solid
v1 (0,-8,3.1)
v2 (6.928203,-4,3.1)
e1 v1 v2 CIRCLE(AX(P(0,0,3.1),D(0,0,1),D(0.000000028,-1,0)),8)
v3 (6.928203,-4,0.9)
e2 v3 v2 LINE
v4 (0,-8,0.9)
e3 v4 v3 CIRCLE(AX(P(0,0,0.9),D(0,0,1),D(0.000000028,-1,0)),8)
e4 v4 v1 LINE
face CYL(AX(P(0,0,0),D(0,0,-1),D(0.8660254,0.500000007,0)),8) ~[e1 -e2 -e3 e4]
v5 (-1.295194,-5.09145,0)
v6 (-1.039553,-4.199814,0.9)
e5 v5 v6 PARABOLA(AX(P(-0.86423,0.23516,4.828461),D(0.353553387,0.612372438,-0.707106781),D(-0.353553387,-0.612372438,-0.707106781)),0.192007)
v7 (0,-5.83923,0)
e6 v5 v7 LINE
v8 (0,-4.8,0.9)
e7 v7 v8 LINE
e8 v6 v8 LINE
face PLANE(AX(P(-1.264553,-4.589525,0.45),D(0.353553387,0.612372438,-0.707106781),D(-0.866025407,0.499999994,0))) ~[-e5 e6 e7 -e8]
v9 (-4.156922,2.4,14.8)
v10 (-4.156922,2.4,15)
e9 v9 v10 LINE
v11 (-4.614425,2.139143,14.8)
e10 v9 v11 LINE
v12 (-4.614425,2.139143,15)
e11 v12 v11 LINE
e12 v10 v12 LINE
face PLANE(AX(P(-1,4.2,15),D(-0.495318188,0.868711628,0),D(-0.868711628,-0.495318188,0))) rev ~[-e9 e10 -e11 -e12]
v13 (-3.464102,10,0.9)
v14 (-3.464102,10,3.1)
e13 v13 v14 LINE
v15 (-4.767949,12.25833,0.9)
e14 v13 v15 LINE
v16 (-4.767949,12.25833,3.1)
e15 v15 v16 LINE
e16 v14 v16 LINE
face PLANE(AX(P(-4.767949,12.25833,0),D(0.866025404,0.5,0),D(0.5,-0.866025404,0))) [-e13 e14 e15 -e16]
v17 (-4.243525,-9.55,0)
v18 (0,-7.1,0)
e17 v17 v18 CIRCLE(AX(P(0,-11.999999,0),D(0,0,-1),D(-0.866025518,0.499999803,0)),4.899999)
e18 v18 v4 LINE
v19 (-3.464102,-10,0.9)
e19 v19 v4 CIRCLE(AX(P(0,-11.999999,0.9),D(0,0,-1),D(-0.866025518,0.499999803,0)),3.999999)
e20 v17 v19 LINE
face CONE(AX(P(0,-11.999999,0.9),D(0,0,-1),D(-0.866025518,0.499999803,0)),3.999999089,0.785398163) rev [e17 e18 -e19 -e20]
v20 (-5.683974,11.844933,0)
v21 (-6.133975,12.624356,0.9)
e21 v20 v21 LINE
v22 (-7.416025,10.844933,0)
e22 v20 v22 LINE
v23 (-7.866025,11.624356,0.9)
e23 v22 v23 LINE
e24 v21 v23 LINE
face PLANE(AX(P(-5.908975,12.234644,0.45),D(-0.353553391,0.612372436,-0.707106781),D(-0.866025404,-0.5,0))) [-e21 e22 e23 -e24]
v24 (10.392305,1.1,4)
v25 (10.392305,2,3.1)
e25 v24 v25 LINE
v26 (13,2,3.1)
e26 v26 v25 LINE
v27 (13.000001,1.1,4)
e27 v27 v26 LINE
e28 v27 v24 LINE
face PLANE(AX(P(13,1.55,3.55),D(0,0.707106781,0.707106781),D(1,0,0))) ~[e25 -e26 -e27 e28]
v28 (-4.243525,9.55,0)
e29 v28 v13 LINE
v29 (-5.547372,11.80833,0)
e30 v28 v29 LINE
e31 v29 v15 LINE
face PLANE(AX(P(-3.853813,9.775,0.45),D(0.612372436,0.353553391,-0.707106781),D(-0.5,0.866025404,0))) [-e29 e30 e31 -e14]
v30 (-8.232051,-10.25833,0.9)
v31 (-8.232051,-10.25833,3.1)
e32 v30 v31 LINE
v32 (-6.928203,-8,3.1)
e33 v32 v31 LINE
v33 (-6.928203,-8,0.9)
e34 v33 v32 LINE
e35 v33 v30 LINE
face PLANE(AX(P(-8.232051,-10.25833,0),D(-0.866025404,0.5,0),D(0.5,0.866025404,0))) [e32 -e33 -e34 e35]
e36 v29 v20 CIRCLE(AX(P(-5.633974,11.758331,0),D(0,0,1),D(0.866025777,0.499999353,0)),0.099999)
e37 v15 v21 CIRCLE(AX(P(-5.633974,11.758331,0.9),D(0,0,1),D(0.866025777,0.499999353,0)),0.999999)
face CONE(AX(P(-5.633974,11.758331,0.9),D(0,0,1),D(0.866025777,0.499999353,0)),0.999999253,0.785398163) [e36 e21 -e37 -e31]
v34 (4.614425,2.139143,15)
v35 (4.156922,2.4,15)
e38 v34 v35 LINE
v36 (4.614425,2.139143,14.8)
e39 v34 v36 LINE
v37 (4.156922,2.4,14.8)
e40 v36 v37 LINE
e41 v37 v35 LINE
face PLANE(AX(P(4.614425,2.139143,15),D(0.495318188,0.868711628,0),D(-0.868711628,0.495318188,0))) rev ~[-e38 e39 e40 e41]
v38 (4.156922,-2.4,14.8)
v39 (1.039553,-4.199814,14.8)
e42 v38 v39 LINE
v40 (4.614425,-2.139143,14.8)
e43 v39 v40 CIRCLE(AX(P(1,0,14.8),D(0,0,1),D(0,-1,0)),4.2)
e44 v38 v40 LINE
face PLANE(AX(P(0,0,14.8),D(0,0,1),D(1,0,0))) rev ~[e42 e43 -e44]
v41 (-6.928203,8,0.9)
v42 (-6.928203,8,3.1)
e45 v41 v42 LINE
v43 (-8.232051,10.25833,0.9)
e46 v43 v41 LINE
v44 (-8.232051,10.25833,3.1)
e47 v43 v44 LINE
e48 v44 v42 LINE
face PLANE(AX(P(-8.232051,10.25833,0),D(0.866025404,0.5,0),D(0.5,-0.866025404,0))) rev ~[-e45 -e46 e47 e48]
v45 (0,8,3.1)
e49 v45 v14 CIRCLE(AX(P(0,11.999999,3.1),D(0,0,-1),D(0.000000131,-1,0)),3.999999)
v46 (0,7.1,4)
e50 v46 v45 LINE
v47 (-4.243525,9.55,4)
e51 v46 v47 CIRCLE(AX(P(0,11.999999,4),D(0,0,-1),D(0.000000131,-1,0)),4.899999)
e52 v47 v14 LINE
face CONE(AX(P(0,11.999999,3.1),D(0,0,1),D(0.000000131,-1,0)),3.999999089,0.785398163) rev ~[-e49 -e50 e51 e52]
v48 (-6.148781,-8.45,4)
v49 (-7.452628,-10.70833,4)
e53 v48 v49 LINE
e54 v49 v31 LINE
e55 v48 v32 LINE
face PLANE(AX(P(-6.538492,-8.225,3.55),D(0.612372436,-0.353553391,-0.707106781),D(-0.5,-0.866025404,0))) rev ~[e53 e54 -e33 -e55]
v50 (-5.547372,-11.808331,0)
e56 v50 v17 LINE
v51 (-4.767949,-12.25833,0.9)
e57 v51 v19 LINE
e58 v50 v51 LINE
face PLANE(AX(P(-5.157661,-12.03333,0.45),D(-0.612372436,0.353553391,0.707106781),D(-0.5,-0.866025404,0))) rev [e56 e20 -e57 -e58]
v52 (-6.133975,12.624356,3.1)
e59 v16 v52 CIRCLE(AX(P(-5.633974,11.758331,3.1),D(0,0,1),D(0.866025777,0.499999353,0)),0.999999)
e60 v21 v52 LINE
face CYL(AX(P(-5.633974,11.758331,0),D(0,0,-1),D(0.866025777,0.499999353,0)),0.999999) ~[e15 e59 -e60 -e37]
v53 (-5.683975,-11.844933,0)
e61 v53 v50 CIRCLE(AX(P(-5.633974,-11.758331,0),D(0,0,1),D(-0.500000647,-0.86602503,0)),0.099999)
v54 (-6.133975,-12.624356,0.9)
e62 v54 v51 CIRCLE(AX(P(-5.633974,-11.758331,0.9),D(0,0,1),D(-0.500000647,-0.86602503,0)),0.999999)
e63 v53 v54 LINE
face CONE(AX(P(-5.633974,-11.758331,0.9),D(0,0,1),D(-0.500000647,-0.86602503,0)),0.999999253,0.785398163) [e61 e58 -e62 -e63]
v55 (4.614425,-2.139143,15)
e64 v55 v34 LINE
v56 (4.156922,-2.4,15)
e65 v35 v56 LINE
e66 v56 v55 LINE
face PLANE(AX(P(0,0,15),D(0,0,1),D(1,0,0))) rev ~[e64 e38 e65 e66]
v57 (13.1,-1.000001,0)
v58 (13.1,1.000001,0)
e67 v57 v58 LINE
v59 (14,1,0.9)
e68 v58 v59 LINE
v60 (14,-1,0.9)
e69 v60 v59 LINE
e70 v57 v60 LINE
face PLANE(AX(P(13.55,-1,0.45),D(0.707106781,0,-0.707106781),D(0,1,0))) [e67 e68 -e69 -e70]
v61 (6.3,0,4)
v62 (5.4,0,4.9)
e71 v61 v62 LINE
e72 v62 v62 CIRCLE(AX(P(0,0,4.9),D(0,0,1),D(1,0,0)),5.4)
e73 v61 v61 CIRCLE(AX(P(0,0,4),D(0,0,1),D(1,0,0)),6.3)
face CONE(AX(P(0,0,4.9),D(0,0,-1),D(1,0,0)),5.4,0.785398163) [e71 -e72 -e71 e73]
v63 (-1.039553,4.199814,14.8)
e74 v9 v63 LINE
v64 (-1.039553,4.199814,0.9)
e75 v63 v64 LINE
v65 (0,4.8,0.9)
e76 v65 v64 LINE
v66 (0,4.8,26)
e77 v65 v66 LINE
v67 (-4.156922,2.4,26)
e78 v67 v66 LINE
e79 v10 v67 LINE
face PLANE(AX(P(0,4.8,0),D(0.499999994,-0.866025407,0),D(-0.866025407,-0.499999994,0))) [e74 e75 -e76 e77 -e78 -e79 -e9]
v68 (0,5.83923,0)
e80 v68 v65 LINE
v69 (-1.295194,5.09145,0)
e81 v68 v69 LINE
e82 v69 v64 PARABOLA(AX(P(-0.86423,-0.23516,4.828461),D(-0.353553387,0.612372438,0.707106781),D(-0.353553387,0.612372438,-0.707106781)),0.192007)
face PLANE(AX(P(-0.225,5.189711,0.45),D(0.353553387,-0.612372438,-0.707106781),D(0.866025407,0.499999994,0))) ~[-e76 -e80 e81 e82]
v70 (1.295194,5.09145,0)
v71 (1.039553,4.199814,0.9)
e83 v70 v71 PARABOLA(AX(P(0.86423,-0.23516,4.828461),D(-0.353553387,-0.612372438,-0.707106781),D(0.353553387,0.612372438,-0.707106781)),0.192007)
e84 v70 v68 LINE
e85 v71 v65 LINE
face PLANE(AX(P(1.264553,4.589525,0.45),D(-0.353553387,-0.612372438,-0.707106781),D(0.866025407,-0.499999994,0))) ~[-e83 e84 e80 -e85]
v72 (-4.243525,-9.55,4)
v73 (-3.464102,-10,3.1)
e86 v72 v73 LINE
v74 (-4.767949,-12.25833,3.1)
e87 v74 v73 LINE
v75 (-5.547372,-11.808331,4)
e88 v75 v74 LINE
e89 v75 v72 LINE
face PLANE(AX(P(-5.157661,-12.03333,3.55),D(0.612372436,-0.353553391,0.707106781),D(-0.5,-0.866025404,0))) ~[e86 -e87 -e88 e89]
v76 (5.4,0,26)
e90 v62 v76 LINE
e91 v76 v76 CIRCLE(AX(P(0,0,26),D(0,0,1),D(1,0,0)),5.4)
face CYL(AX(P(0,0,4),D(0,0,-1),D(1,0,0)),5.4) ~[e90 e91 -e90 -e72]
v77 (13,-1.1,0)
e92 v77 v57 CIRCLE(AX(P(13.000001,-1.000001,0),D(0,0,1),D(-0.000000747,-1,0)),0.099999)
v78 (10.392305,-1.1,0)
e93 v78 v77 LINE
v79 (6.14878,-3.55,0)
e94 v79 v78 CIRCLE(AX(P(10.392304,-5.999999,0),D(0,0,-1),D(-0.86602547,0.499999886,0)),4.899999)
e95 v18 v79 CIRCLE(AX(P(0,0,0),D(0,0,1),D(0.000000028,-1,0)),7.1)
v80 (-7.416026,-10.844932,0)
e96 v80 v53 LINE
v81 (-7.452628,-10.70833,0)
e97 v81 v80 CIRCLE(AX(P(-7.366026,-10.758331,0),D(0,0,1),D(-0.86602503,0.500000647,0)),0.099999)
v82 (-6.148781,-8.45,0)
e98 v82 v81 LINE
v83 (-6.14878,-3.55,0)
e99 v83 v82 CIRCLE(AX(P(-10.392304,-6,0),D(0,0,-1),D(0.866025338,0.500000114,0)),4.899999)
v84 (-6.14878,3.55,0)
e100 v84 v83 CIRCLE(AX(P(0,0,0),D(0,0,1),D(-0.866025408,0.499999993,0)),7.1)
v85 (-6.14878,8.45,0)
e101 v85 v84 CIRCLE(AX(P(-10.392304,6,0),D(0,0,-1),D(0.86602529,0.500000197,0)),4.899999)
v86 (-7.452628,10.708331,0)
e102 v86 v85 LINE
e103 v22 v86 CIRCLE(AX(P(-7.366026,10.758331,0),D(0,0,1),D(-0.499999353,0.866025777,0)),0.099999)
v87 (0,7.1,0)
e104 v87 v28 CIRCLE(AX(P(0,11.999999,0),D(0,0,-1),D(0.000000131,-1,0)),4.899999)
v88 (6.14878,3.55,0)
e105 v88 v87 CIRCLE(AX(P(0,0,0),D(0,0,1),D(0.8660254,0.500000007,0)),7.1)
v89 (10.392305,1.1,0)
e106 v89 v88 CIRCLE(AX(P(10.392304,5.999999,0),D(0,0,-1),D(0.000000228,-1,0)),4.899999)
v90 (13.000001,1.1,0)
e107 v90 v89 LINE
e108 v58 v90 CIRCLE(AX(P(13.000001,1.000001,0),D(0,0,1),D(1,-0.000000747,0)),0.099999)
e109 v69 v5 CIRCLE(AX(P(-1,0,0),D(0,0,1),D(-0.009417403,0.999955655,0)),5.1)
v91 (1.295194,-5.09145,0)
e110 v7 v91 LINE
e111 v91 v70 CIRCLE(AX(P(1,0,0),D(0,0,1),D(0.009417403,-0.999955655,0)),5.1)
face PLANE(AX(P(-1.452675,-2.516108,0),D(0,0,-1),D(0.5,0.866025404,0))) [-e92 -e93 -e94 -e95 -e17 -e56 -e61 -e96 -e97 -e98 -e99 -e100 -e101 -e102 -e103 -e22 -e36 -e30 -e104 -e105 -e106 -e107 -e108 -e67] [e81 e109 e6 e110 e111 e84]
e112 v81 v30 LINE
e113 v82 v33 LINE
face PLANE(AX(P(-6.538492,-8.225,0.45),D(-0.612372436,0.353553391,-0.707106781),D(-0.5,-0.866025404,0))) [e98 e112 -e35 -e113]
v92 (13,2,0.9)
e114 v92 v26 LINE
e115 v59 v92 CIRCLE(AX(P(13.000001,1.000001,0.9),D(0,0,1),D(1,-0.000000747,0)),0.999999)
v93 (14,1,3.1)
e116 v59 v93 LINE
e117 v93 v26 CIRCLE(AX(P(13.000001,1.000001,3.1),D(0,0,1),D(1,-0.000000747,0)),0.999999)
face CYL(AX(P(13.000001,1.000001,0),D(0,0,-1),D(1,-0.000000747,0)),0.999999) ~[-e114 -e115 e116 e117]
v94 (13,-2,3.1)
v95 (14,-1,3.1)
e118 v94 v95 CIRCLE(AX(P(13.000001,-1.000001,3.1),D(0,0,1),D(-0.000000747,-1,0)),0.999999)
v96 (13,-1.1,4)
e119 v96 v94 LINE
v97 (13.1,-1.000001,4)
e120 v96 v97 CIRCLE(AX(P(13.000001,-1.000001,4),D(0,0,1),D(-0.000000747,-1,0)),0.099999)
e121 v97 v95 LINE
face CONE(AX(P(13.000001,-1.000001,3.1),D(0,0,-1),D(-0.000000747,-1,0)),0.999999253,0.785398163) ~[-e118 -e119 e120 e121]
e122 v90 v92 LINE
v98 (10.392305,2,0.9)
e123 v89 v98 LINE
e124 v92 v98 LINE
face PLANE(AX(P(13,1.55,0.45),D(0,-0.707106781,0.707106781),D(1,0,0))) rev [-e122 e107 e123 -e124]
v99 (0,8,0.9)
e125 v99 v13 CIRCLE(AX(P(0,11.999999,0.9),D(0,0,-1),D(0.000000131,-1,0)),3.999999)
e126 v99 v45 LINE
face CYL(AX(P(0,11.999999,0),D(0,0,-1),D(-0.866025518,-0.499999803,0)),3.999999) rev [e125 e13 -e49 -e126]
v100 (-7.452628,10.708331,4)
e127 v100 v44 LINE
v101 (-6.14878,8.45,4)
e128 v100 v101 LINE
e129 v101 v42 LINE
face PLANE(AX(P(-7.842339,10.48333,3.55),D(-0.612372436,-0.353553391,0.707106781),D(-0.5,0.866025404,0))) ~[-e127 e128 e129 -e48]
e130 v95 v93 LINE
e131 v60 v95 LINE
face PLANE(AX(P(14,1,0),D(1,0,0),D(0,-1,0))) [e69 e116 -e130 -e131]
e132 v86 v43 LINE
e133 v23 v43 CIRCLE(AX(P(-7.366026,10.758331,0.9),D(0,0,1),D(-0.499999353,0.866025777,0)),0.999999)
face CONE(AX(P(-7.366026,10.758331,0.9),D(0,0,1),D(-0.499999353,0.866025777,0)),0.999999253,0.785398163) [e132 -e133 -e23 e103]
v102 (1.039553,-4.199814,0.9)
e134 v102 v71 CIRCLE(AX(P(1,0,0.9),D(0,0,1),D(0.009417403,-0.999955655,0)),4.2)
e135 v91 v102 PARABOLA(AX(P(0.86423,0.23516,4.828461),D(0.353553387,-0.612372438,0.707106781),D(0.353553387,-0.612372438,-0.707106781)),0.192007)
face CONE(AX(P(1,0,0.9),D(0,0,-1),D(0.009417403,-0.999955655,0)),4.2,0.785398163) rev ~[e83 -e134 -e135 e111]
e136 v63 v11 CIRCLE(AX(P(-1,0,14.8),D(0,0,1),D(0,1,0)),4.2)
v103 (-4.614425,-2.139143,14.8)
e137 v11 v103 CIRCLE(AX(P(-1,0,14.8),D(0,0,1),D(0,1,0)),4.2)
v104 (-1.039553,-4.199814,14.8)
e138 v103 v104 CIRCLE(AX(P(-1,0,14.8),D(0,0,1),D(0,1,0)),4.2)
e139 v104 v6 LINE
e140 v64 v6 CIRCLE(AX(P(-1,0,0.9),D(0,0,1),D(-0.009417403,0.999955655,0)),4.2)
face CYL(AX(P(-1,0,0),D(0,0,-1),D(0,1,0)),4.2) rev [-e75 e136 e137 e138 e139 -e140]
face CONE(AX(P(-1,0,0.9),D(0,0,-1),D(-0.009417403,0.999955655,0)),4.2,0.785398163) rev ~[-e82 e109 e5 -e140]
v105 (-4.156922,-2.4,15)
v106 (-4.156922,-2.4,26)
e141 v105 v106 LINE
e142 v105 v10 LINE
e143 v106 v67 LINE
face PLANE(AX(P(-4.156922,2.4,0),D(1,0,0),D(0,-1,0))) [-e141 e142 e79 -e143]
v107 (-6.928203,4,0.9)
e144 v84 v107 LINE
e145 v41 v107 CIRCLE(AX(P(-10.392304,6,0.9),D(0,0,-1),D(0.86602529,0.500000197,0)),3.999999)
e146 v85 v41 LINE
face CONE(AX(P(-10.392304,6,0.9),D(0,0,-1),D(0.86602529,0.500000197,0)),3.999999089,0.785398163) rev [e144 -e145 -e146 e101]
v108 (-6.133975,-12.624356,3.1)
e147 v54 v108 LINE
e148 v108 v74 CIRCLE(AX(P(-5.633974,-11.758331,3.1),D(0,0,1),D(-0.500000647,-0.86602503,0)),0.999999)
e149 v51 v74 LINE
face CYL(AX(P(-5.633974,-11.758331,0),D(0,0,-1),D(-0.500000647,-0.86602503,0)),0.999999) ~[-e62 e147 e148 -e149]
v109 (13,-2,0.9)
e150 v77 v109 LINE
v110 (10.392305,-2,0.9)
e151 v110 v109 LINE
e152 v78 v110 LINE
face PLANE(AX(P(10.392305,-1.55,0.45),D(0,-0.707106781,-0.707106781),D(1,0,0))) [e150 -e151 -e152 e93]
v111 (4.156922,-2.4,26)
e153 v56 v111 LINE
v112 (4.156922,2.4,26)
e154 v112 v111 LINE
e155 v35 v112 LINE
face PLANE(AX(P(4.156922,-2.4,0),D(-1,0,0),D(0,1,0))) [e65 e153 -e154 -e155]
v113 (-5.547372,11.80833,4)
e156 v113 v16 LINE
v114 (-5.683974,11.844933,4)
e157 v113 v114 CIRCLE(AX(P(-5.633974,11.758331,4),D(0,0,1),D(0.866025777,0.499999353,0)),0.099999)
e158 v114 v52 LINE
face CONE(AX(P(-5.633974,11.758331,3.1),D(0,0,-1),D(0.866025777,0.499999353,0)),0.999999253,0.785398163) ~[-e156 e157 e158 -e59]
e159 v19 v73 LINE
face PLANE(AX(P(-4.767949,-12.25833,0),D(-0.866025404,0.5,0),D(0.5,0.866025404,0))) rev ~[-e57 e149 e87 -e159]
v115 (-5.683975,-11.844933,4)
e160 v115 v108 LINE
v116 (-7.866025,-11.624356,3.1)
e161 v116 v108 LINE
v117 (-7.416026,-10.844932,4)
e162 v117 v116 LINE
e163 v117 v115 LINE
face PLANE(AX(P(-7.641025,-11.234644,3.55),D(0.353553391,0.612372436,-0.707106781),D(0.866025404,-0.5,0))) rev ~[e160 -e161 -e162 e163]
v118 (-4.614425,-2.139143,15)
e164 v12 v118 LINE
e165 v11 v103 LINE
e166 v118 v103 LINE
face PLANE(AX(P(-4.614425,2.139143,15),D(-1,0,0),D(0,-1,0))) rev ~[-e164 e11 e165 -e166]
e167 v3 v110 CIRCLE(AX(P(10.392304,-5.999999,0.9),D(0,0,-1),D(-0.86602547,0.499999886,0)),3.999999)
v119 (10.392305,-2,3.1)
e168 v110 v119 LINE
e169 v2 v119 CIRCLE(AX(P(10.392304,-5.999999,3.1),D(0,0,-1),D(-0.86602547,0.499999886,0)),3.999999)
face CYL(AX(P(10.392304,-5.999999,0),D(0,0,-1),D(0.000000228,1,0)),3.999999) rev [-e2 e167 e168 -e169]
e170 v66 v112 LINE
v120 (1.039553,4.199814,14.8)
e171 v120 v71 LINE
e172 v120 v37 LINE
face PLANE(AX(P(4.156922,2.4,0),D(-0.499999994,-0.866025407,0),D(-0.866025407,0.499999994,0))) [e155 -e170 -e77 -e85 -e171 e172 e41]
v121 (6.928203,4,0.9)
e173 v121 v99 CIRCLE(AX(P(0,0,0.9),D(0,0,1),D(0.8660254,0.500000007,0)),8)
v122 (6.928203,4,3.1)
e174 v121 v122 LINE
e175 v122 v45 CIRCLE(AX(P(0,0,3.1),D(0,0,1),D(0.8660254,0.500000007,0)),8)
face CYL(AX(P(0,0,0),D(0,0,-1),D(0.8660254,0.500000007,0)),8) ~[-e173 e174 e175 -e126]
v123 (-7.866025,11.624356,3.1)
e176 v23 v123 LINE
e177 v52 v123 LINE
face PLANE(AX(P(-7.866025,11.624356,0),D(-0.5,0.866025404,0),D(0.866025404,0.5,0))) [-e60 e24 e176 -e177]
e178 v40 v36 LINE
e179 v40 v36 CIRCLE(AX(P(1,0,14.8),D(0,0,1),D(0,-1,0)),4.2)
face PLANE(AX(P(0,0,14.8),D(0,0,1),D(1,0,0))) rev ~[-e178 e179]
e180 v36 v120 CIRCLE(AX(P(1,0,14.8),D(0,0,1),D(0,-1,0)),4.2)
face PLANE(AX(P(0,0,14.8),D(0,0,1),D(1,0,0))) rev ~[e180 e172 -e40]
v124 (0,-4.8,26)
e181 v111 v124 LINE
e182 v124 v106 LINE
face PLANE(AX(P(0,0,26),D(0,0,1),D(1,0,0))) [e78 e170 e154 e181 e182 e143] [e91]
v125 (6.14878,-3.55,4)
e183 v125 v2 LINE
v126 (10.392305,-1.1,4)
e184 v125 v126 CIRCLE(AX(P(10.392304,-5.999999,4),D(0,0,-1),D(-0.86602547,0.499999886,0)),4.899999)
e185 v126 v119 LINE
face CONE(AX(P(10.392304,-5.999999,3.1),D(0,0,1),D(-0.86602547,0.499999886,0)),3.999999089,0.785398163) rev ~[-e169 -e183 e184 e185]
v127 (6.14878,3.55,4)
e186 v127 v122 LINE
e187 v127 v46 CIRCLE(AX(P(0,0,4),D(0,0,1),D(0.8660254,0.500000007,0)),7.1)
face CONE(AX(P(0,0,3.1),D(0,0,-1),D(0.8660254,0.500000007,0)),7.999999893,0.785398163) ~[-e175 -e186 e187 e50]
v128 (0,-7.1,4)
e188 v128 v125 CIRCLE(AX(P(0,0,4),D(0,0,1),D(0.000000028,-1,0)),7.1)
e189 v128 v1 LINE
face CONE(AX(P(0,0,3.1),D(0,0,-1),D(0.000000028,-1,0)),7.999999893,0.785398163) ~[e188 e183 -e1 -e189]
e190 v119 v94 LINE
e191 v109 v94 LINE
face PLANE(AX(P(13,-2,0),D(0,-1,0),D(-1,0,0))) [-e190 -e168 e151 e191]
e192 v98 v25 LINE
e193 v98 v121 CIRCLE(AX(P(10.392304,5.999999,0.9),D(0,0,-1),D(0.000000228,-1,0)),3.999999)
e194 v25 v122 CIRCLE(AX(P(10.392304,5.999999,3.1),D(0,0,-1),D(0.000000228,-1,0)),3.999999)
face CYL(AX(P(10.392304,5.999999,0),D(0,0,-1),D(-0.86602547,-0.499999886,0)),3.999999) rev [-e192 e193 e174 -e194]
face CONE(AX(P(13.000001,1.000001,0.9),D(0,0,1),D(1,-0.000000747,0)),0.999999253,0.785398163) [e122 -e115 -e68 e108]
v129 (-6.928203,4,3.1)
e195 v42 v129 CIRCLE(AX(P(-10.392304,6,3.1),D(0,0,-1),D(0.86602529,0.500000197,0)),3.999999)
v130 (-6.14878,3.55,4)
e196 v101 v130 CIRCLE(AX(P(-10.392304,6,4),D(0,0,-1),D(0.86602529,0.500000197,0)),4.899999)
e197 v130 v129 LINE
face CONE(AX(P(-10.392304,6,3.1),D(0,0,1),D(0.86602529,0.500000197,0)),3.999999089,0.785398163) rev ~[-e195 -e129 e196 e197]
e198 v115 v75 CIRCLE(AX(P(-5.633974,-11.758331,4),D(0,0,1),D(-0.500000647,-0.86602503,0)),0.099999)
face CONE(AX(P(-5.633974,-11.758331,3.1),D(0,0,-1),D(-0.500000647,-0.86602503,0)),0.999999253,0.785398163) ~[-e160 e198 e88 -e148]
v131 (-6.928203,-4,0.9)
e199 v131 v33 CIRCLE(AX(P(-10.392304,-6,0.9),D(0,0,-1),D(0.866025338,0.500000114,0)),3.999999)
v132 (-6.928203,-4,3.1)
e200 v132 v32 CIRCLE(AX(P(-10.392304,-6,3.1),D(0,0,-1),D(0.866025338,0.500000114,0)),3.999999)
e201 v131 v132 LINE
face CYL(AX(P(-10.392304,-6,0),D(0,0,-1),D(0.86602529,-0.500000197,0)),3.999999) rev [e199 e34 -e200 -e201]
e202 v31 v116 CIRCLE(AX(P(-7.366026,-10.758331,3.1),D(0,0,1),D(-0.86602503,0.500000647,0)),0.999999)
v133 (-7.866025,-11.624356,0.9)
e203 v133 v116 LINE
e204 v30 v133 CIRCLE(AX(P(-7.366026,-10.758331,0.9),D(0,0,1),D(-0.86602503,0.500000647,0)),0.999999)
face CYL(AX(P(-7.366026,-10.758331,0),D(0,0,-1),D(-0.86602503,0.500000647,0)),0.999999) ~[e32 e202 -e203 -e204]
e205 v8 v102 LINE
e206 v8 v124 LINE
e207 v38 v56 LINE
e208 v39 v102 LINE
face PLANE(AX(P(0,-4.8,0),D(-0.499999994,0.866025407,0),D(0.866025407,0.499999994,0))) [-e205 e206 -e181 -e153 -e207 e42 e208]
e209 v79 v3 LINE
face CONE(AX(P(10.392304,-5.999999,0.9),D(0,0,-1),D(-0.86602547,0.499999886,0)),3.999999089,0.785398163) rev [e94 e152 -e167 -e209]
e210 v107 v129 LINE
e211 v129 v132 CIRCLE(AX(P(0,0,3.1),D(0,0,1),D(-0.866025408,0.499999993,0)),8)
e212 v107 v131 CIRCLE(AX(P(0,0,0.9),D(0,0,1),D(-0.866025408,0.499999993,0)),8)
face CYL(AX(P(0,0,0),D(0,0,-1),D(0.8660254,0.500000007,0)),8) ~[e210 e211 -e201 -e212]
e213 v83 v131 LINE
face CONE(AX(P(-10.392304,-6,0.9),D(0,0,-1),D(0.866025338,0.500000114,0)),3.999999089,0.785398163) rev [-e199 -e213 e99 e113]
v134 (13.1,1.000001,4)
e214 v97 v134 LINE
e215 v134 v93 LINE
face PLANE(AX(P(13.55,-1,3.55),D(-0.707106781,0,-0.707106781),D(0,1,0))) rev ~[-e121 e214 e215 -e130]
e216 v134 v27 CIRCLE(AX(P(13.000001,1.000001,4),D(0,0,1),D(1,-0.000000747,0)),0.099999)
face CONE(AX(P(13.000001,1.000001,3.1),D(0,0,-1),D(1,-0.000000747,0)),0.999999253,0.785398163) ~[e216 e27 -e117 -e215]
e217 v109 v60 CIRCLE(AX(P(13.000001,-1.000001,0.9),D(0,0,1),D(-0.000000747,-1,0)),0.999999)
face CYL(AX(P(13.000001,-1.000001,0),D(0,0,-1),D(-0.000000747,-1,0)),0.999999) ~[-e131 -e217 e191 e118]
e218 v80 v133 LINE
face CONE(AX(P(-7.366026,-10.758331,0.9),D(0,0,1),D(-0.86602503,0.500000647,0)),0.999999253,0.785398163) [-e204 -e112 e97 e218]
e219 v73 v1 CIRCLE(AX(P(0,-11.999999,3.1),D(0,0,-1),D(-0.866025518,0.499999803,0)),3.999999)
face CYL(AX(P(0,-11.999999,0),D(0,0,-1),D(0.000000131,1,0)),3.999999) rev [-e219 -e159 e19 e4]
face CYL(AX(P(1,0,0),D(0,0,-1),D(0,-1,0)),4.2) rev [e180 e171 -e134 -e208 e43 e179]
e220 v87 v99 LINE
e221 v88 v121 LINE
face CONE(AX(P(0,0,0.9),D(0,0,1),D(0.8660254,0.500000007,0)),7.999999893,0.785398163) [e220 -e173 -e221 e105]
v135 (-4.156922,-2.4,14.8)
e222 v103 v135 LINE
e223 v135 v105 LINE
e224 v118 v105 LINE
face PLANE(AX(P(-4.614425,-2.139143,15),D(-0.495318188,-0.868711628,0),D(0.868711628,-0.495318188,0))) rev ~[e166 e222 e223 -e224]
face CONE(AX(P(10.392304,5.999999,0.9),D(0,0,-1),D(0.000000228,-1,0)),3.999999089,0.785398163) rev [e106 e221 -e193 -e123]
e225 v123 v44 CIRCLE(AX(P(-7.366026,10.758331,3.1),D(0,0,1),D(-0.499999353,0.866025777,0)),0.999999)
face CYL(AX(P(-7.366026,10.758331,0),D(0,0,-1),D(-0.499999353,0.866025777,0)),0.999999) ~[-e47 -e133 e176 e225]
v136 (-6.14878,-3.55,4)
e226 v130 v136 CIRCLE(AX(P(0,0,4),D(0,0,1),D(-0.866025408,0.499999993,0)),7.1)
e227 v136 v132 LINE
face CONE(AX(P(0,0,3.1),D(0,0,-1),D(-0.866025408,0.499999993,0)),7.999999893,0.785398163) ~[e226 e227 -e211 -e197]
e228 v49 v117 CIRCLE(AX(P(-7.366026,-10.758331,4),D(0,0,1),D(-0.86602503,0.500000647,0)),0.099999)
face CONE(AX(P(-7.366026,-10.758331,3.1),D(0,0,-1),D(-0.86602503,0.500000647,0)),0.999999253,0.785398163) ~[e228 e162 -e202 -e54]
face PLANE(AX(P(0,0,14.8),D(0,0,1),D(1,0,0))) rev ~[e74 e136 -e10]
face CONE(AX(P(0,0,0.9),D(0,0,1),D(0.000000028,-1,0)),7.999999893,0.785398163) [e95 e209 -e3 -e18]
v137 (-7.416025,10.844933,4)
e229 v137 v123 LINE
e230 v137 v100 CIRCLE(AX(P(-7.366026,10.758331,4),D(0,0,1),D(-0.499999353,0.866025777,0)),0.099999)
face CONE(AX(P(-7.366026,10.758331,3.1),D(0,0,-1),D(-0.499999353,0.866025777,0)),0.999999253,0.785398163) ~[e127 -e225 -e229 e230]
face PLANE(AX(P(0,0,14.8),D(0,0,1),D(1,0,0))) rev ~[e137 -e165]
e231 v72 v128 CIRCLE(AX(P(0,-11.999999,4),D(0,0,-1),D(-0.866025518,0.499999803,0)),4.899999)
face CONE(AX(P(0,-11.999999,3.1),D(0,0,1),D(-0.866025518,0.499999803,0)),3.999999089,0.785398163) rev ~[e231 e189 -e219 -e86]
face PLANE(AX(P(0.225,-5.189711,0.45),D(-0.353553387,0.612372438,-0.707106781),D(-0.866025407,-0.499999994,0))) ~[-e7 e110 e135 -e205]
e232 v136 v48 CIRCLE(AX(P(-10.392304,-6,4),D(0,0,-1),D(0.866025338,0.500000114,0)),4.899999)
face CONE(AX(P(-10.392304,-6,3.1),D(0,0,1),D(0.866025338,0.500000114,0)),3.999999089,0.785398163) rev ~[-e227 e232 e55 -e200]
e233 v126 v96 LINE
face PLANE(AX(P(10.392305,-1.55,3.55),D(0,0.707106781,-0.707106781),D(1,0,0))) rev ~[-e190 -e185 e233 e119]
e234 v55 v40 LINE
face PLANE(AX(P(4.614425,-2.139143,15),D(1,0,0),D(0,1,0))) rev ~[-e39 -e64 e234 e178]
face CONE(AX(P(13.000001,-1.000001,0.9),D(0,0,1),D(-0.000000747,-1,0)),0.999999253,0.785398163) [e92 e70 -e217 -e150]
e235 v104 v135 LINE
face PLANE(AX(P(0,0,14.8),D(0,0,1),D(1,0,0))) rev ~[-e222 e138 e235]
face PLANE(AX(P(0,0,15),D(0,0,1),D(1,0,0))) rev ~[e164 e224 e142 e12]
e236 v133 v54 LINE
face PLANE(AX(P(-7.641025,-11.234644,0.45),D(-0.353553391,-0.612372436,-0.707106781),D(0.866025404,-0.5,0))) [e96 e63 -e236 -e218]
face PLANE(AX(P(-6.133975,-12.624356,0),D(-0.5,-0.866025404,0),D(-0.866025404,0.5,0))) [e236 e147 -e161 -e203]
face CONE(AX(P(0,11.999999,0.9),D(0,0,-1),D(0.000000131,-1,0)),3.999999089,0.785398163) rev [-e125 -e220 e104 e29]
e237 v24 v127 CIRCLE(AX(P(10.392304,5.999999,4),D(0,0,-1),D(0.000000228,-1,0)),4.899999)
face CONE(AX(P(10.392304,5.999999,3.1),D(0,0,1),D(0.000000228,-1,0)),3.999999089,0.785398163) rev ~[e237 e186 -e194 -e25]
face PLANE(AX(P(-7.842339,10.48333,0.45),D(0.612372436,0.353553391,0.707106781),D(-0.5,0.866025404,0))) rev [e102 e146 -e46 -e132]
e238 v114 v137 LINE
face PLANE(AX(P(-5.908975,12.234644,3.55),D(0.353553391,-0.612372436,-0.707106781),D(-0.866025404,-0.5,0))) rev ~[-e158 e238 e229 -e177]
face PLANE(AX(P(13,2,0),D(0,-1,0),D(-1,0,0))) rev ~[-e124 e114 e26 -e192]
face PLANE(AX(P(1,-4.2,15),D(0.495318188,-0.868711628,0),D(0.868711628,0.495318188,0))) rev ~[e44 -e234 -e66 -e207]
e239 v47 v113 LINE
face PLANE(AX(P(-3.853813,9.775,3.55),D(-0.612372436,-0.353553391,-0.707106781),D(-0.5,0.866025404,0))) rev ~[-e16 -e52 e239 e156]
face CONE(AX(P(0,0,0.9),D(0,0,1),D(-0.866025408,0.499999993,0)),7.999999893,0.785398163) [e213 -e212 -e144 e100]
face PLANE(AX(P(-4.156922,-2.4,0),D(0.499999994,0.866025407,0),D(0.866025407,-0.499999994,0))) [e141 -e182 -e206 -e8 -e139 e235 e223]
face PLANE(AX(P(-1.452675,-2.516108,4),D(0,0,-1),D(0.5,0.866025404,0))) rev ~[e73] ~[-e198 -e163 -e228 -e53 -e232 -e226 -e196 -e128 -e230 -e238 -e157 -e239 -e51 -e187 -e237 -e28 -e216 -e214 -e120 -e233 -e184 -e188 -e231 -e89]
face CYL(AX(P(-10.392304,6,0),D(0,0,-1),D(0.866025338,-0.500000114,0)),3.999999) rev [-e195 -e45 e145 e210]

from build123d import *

# Parameters (mm, degrees)
PAD_DEPTH          = 4
POLARPATTERN_COUNT = 3
SKETCH002_R        = 5.4
PAD001_DEPTH       = 22
POCKET_DEPTH       = 14.8
POCKET001_DEPTH    = 0.2
POCKET002_DEPTH    = 26.001
CHAMFER_SIZE       = 0.9
CHAMFER001_SIZE    = 0.9


with BuildPart() as part:
    # Sketch → Pad (new body)
    with BuildSketch(Plane.XY):
        with BuildLine():
            Line((14, 1), (14, -1))
            ThreePointArc((13, -2), (13.707107, -1.707107), (14, -1))
            Line((13, -2), (10.392305, -2))
            ThreePointArc((10.392305, -2), (8.392305, -2.535898), (6.928203, -4))
            ThreePointArc((6.928203, 4), (-8, 0), (6.928203, -4))
            ThreePointArc((6.928203, 4), (8.392305, 2.535898), (10.392305, 2))
            Line((13, 2), (10.392305, 2))
            ThreePointArc((14, 1), (13.707107, 1.707107), (13, 2))
        make_face()
    pad = extrude(amount=PAD_DEPTH)

    # PolarPattern: Pad ×3 about axis
    polarpattern_axis = Axis((0, 0, 0), (0, 0, 1))
    for i in range(1, POLARPATTERN_COUNT):
        add(pad.rotate(polarpattern_axis, i * 360 / POLARPATTERN_COUNT))

    # Sketch002 → Pad001 (join)
    with BuildSketch(Plane.XY.offset(4)):
        Circle(SKETCH002_R)
    extrude(amount=PAD001_DEPTH)

    # Sketch001 → Pocket (cut)
    with BuildSketch(Plane.XY):
        with BuildLine():
            ThreePointArc((-1, 4.2), (-5.2, 0), (-1, -4.2))
            Line((-1, -4.2), (1, -4.2))
            ThreePointArc((1, -4.2), (5.2, 0), (1, 4.2))
            Line((-1, 4.2), (1, 4.2))
        make_face()
    extrude(amount=POCKET_DEPTH, mode=Mode.SUBTRACT)

    # Sketch005 → Pocket001 (cut)
    with BuildSketch(Plane.XY.offset(15)):
        Polygon((-1, 4.2), (-4.614425, 2.139143), (-4.614425, -2.139143), (-1, -4.2), (1, -4.2), (4.614425, -2.139143), (4.614425, 2.139143), (1, 4.2), align=None)
    extrude(amount=-POCKET001_DEPTH, mode=Mode.SUBTRACT)

    # Sketch004 → Pocket002 (cut, through all)
    with BuildSketch(Plane.XY):
        Polygon((4.156922, -2.4), (4.156922, 2.4), (0, 4.8), (-4.156922, 2.4), (-4.156922, -2.4), (0, -4.8), align=None)
    extrude(amount=POCKET002_DEPTH, mode=Mode.SUBTRACT)

    # Chamfer
    chamfer_edges = [part.edges().sort_by_distance(p)[0] for p in [
        (13.707107, 1.707107, 4),
        (14, 0, 4),
        (11.696152, 2, 4),
        (13.707107, -1.707107, 4),
        (8.392305, 2.535898, 4),
        (11.696152, -2, 4),
        (4, 6.928203, 4),
        (8.392305, -2.535898, 4),
        (-2, 8.535898, 4),
        (4, -6.928203, 4),
        (-4.116025, 11.129165, 4),
        (-2, -8.535898, 4),
        (-5.375156, 12.724256, 4),
        (-4.116025, -11.129165, 4),
        (-7, 12.124356, 4),
        (-5.375156, -12.724256, 4),
        (-8.331951, 11.017149, 4),
        (-7, -12.124356, 4),
        (-7.580127, 9.129165, 4),
        (-8.331951, -11.017149, 4),
        (-6.392305, 6, 4),
        (-7.580127, -9.129165, 4),
        (-8, 0, 4),
        (-6.392305, -6, 4),
        (-5.4, 0, 4),
    ]]
    chamfer(chamfer_edges, length=CHAMFER_SIZE)

    # Chamfer001
    chamfer001_edges = [part.edges().sort_by_distance(p)[0] for p in [
        (13.707107, 1.707107, 0),
        (14, 0, 0),
        (11.696152, 2, 0),
        (13.707107, -1.707107, 0),
        (8.392305, 2.535898, 0),
        (11.696152, -2, 0),
        (4, 6.928203, 0),
        (8.392305, -2.535898, 0),
        (-2, 8.535898, 0),
        (4, -6.928203, 0),
        (-4.116025, 11.129165, 0),
        (-2, -8.535898, 0),
        (-5.375156, 12.724256, 0),
        (-4.116025, -11.129165, 0),
        (-7, 12.124356, 0),
        (-5.375156, -12.724256, 0),
        (-8.331951, 11.017149, 0),
        (-7, -12.124356, 0),
        (-7.580127, 9.129165, 0),
        (-8.331951, -11.017149, 0),
        (-6.392305, 6, 0),
        (-7.580127, -9.129165, 0),
        (-8, 0, 0),
        (-6.392305, -6, 0),
        (-0.519777, 4.499907, 0),
        (0.519777, 4.499907, 0),
        (5.2, 0, 0),
        (0.519777, -4.499907, 0),
        (-0.519777, -4.499907, 0),
        (-5.2, 0, 0),
    ]]
    chamfer(chamfer001_edges, length=CHAMFER001_SIZE)


solid = part.part
